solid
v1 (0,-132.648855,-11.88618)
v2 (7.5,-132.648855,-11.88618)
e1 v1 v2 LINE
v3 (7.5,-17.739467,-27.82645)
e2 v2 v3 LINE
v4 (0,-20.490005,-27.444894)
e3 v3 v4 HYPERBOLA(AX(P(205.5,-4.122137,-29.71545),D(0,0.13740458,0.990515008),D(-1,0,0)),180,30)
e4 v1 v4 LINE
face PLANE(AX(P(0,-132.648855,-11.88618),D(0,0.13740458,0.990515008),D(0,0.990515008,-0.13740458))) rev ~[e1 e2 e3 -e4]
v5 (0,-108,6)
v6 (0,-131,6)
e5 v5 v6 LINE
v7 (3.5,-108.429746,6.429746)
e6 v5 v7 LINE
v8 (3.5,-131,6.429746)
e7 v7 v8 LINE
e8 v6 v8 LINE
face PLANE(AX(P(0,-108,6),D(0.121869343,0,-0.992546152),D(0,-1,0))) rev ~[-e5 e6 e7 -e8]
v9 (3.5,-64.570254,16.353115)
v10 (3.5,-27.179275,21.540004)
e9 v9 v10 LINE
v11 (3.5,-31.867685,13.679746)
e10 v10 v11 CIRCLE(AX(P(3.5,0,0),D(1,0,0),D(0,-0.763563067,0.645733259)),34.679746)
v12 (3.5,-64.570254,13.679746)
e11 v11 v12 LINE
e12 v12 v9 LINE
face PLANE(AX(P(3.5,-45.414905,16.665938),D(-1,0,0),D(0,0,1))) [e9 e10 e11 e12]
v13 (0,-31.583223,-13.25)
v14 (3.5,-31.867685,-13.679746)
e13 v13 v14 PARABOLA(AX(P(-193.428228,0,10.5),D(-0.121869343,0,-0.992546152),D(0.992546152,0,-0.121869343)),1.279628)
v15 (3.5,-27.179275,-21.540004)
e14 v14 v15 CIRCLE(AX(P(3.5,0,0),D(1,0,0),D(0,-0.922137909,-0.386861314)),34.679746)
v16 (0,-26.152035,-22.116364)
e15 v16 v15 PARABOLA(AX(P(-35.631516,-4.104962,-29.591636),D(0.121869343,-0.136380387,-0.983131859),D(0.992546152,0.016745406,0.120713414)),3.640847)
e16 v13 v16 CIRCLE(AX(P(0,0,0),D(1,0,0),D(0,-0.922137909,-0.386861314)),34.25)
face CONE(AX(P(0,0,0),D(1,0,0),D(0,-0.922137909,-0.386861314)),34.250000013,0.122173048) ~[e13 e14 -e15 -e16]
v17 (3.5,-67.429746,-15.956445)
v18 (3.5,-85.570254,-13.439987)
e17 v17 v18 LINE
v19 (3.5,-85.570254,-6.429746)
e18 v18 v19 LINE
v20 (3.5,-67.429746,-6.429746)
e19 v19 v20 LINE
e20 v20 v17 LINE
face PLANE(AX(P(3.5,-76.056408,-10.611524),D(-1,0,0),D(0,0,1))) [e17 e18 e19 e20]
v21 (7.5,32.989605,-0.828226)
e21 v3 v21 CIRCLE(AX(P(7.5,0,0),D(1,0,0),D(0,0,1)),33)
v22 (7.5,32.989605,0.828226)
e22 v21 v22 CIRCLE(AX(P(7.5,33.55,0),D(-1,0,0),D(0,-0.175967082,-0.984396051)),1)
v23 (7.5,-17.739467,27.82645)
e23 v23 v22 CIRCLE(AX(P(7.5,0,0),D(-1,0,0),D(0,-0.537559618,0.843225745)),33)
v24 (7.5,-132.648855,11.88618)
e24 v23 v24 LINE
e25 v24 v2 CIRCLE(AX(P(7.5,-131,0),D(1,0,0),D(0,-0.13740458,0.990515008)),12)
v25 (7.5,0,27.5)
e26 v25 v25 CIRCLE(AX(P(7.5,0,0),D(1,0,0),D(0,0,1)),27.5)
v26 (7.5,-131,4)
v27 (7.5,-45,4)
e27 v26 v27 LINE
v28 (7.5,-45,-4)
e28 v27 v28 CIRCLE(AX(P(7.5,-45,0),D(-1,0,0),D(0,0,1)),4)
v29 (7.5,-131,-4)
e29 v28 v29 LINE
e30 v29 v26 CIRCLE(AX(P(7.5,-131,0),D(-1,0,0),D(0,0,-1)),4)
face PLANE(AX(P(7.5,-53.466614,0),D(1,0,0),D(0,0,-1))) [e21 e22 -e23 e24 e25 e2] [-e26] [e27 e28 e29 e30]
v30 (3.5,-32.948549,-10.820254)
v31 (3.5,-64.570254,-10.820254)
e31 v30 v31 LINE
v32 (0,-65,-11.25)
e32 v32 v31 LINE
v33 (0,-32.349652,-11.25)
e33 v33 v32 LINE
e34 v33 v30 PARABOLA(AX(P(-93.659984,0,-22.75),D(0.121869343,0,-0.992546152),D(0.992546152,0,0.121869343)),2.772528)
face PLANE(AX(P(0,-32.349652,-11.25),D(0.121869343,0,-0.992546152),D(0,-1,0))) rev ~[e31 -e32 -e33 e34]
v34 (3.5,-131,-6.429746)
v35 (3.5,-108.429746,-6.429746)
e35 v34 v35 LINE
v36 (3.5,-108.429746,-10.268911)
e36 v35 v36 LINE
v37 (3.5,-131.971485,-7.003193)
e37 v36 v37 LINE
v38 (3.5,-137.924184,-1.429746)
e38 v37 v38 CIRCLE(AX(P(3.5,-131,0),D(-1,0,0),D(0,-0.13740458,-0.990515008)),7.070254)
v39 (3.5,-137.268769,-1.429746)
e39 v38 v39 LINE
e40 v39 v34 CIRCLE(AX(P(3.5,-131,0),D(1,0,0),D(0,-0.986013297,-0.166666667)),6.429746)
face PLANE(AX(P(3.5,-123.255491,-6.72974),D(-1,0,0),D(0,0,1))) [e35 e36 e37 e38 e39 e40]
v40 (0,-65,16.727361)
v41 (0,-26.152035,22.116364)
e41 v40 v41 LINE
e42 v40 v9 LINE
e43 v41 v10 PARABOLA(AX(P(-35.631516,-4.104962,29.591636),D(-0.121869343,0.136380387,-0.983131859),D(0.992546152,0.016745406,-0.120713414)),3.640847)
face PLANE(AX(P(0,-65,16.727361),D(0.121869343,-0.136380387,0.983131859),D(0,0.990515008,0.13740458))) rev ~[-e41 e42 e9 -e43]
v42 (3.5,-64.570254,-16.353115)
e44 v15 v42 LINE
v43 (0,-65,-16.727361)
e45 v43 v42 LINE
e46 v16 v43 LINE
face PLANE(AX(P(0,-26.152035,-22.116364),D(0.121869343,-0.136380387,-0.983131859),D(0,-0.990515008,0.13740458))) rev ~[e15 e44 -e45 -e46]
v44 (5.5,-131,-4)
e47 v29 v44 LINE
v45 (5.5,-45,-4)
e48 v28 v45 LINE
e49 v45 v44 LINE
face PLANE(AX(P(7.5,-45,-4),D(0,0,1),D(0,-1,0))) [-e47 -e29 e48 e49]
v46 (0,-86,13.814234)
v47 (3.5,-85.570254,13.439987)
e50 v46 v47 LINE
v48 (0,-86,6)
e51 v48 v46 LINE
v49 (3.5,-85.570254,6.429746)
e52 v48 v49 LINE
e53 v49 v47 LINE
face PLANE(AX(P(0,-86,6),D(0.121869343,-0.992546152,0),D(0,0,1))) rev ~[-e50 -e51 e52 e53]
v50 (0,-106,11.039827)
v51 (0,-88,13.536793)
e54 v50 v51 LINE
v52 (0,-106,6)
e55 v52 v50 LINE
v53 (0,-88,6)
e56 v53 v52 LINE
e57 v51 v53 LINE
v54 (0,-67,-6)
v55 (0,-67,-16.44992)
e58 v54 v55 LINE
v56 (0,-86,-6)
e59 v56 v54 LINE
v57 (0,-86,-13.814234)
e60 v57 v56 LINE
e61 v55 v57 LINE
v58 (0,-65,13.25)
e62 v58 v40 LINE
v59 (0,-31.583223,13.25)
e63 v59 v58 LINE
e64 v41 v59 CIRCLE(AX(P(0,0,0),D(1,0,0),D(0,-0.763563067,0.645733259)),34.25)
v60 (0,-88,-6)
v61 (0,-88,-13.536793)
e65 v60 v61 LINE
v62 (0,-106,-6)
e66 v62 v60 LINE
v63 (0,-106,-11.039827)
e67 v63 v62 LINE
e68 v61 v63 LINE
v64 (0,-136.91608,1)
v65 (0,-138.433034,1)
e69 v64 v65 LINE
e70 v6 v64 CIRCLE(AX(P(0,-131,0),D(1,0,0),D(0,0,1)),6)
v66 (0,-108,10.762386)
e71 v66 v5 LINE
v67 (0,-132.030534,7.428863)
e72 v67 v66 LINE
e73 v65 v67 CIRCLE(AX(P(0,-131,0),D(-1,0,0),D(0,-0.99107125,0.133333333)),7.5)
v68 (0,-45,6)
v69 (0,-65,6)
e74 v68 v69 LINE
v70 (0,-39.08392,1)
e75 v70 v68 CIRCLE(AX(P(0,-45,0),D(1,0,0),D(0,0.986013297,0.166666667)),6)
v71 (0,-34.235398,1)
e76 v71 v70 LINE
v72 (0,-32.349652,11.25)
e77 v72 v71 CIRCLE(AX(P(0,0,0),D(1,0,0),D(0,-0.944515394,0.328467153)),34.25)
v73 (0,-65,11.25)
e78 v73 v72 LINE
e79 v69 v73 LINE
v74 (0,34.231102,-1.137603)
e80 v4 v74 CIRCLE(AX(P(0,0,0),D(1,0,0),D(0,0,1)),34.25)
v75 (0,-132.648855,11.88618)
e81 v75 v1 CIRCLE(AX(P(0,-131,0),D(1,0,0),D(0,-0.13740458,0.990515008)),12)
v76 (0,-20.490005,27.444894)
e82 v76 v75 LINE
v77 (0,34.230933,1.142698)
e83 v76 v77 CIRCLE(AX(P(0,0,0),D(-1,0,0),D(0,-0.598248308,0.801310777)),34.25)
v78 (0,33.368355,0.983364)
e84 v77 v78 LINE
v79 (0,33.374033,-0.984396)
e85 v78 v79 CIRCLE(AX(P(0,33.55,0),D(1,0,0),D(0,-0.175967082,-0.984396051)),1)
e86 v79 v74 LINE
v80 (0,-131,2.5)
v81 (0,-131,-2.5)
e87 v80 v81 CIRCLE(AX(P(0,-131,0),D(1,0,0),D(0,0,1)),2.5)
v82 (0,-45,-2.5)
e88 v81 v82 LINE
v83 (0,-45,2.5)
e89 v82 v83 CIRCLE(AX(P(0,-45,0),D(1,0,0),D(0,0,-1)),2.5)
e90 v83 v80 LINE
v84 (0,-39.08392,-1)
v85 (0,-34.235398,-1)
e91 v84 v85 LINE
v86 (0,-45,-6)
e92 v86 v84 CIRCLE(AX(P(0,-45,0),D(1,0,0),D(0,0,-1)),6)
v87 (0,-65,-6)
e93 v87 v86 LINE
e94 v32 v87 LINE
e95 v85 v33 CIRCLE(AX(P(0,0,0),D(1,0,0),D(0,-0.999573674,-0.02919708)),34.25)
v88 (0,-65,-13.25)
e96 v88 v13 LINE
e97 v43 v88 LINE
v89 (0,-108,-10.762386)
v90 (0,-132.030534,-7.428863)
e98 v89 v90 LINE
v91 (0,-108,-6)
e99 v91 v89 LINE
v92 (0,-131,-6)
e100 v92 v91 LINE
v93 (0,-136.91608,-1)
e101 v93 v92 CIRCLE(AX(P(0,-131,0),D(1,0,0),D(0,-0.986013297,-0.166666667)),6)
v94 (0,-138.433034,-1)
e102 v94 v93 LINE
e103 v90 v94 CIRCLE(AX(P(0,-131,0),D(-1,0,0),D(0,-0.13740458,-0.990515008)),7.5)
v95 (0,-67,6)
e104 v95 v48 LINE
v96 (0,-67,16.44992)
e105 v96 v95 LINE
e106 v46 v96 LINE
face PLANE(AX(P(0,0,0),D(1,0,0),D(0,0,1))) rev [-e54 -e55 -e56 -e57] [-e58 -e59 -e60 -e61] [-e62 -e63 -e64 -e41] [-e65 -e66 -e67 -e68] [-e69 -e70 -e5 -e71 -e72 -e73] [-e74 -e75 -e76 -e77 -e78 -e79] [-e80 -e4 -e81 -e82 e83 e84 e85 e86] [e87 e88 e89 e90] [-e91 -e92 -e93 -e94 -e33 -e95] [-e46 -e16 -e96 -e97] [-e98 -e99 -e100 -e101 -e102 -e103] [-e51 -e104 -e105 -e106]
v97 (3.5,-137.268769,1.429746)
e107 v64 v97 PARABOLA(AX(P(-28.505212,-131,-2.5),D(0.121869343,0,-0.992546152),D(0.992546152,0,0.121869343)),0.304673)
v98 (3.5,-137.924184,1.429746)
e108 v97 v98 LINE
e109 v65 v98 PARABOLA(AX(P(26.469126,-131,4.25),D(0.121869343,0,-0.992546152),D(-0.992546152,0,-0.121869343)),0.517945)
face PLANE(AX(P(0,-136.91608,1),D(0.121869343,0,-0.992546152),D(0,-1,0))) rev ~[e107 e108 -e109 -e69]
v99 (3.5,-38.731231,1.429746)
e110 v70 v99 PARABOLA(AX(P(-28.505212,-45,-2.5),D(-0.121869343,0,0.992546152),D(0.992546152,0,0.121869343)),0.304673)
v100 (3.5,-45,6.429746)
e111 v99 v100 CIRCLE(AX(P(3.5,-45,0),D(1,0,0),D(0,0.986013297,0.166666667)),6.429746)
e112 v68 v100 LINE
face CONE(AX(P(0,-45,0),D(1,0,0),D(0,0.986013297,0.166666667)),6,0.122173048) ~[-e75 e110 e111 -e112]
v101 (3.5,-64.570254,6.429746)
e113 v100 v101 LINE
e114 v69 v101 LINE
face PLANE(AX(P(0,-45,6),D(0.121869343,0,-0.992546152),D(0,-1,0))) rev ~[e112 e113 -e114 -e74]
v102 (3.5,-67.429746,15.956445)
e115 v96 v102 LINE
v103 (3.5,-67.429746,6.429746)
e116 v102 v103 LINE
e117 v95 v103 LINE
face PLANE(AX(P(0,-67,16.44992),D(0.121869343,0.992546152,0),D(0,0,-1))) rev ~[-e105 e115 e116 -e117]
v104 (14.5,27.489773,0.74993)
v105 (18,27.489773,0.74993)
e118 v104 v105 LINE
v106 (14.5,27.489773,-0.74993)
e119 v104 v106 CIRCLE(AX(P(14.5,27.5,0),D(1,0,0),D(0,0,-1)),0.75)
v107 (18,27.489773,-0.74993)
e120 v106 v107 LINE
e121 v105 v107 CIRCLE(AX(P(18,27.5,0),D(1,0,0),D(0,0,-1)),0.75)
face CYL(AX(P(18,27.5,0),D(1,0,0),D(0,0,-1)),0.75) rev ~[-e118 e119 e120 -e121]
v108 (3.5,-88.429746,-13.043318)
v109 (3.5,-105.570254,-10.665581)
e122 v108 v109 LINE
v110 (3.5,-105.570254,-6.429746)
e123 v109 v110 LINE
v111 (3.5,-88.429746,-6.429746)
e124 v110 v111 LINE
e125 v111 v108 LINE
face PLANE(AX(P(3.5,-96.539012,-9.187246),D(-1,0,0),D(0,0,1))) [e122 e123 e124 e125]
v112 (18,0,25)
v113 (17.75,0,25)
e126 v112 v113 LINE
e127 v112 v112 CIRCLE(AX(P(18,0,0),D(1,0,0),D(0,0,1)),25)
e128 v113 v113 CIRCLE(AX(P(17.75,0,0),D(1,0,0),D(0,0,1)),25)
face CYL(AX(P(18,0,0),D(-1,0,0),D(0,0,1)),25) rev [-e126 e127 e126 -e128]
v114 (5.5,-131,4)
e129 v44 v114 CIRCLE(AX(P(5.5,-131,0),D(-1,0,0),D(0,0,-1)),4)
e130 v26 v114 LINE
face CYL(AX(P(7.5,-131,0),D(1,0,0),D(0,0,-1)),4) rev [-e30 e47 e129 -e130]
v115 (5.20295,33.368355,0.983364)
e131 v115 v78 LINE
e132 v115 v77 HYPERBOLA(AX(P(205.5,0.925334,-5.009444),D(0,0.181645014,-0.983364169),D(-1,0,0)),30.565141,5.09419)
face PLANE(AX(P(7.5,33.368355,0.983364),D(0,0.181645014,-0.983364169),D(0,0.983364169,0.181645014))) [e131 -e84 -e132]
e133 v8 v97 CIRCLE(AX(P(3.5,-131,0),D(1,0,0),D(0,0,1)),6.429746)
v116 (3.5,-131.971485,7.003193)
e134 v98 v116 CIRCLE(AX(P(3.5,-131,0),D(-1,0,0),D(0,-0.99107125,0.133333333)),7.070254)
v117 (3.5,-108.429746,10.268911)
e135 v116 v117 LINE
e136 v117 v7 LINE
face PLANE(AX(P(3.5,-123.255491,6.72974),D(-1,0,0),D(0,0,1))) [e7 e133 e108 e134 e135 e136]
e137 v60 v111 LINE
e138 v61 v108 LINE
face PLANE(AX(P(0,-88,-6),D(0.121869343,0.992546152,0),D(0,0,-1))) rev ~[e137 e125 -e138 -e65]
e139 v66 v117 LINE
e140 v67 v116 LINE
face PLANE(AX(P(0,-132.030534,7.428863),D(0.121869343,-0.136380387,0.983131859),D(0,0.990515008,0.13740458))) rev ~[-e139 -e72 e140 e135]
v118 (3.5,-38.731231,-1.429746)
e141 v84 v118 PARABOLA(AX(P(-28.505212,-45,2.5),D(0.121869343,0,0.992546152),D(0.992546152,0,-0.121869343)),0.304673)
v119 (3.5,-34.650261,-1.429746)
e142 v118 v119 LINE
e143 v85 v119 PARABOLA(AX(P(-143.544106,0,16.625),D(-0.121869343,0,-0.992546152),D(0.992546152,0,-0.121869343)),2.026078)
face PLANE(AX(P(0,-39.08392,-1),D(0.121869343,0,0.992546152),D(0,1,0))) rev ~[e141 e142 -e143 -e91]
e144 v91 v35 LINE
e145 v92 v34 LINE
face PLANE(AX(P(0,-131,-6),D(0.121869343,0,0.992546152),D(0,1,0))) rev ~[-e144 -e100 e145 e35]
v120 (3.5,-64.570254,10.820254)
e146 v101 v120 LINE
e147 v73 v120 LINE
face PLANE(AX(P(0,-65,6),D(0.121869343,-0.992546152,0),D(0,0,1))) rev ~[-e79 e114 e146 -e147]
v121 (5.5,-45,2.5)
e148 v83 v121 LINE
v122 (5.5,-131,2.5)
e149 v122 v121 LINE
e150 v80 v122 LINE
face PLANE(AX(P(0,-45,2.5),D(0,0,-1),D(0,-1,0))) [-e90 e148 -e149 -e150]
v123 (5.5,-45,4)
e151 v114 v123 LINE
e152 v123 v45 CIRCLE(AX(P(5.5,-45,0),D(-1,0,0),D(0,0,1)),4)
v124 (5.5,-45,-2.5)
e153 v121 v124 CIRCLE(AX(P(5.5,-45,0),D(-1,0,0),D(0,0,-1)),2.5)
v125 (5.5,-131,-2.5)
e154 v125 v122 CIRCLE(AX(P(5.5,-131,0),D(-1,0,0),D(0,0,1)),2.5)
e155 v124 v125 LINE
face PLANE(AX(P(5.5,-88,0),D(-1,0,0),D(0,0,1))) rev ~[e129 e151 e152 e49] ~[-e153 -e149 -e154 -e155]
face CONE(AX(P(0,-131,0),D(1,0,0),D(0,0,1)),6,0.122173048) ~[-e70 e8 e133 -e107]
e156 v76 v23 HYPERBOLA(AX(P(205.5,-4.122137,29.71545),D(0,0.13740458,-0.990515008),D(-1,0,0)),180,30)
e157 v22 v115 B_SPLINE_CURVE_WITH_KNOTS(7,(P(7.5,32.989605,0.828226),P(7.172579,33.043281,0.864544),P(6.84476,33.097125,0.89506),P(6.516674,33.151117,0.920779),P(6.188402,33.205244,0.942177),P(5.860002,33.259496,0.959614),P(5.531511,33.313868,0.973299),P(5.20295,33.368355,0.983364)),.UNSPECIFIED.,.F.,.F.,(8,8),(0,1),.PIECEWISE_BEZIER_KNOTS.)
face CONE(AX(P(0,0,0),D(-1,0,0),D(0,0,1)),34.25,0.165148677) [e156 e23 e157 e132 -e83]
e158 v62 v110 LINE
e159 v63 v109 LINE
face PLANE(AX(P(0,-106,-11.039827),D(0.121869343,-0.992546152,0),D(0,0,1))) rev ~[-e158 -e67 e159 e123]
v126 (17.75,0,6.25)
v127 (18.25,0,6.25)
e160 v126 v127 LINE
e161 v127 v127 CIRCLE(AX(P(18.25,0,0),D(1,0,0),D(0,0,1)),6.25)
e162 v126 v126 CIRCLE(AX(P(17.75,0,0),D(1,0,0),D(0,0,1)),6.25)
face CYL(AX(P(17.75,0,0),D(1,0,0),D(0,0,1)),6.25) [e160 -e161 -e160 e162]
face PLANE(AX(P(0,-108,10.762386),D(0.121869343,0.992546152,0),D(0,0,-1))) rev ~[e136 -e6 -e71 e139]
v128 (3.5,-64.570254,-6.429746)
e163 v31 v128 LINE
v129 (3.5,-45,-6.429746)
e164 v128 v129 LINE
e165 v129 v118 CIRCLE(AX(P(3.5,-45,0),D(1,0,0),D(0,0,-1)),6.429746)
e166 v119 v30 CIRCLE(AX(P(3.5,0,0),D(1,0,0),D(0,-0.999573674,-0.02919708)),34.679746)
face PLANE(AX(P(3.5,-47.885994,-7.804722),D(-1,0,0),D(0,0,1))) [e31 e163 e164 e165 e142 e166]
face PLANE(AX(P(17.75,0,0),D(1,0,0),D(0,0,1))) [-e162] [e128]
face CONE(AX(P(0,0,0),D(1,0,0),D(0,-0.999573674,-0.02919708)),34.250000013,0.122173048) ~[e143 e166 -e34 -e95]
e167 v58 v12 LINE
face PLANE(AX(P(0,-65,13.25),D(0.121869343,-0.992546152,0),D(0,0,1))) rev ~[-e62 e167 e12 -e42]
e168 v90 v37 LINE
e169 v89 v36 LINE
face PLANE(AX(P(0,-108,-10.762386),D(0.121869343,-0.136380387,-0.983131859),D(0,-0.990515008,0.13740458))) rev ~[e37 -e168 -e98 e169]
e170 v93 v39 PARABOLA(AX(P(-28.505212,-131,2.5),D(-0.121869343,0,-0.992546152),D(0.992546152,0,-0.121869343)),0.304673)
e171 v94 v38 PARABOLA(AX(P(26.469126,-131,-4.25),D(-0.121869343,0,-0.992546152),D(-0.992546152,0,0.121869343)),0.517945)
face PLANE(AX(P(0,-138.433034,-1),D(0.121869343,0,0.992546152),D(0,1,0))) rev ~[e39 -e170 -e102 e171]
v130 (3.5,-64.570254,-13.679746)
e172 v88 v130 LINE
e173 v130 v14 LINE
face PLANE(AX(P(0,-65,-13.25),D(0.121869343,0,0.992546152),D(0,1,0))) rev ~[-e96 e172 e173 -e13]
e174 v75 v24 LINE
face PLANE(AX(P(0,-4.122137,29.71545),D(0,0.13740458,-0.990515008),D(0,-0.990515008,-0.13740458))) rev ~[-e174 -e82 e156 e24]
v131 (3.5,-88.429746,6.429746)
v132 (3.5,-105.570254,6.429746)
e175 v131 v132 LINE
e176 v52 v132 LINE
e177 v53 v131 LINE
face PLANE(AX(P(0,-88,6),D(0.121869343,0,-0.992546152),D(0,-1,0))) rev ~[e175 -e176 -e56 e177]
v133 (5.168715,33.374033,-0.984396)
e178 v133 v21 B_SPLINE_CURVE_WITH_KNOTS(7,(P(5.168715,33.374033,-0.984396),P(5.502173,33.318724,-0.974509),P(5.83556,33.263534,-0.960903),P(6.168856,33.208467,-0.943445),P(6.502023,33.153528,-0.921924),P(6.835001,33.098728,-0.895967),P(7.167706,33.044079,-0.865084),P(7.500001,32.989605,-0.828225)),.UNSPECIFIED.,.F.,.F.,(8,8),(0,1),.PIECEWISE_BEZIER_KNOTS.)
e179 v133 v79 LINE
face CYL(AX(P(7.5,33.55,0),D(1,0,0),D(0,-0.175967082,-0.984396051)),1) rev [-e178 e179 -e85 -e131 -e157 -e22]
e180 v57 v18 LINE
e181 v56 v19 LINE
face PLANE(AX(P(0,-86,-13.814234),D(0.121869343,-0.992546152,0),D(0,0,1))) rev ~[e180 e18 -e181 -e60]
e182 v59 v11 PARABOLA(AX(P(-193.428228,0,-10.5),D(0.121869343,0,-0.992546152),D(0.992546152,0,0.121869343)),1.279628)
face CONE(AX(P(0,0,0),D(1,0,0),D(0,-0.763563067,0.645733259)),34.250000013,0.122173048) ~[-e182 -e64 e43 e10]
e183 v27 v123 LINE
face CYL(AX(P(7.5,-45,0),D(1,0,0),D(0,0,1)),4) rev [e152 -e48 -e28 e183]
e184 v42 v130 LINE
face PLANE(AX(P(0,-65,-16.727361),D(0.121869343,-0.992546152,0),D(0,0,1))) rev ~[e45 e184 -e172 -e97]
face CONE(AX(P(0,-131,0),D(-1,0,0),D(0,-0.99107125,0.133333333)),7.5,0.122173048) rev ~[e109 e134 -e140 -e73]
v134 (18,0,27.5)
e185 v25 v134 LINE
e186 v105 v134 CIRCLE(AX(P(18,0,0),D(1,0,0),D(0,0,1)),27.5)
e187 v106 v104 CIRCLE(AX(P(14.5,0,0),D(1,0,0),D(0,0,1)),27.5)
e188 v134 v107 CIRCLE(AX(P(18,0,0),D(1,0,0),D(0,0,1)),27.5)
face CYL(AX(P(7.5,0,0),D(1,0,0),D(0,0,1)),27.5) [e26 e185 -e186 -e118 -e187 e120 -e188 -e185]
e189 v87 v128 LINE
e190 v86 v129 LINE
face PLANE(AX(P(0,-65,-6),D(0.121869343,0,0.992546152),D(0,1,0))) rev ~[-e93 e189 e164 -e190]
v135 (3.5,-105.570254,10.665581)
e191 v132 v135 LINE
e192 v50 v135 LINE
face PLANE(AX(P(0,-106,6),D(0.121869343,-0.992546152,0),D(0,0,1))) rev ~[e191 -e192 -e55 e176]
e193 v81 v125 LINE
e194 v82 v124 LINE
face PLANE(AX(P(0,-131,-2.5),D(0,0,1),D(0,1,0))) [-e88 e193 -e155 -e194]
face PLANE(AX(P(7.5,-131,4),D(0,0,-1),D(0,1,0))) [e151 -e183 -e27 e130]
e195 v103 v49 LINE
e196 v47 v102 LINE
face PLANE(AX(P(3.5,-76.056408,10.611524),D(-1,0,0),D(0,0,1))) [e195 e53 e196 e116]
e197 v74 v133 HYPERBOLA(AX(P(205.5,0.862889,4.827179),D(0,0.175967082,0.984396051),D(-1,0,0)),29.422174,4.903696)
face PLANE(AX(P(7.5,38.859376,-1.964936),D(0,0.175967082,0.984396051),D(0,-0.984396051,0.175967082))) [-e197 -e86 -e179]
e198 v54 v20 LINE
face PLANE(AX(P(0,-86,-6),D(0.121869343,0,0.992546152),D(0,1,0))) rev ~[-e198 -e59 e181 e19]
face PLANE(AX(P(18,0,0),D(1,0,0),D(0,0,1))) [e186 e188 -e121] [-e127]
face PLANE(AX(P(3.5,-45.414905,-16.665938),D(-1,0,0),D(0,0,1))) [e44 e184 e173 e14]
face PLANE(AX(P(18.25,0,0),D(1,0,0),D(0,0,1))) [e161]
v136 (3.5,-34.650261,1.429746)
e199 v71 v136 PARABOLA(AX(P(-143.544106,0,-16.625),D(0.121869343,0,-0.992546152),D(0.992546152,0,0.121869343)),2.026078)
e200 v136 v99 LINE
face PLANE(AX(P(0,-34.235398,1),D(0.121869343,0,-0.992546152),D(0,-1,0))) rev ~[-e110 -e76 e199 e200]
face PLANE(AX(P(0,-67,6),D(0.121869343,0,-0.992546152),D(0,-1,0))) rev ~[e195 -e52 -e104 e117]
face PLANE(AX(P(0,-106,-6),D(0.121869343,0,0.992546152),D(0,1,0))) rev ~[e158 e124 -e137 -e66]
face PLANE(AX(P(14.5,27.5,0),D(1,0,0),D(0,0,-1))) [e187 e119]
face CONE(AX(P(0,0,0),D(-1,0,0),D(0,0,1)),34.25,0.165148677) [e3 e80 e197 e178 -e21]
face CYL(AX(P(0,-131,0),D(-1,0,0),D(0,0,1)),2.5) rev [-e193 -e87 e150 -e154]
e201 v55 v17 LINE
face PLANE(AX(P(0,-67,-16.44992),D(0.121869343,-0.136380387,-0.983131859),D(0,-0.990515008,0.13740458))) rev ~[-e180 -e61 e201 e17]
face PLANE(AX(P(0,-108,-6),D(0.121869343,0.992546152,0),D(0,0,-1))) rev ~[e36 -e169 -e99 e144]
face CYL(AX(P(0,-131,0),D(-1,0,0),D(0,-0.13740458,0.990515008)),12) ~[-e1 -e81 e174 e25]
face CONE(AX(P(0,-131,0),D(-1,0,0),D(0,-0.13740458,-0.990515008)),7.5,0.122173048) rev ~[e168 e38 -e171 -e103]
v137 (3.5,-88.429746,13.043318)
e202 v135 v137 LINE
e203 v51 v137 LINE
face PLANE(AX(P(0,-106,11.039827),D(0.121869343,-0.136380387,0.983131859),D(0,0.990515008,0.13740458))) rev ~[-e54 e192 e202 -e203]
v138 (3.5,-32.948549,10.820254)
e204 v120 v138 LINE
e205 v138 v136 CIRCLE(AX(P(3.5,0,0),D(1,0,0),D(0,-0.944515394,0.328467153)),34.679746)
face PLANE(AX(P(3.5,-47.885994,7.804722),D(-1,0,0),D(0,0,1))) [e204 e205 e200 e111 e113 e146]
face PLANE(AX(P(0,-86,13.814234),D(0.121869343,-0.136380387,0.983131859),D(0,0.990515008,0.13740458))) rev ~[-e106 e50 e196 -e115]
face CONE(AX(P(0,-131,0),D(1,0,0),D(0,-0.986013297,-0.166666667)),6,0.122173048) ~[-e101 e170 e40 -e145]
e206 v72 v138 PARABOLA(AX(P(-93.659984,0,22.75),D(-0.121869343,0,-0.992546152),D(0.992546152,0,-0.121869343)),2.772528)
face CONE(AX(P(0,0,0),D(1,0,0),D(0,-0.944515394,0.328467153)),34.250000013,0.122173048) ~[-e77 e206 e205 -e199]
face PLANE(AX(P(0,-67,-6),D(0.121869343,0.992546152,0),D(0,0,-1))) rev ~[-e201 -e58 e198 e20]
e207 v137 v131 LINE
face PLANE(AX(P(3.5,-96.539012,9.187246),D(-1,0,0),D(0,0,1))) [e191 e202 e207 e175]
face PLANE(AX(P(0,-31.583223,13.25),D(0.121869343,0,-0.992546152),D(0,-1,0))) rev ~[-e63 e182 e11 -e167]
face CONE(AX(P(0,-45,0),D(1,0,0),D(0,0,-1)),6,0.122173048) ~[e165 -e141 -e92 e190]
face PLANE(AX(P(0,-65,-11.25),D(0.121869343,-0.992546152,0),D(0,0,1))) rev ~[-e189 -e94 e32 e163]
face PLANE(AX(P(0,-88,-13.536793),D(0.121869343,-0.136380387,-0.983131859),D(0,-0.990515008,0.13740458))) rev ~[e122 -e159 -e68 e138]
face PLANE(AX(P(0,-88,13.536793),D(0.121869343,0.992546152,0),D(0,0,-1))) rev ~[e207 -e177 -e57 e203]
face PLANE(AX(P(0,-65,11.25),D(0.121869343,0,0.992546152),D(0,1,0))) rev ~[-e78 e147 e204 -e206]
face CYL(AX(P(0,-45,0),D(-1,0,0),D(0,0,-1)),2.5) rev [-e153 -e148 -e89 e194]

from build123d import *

# Parameters (mm, degrees)
ESQUISSE2_R                        = 0.75
ENL_V_MAT_EXTRU_1_DEPTH            = 3.5
ENL_V_MAT_EXTRU_2_DEPTH            = 50.615395796
EXTRUSION1_DEPTH                   = 7.5
ENL_V_MAT_EXTRU_3_DEPTH            = 3.5
ENL_V_MAT_EXTRU_3_DRAFT            = -7
ENL_V_MAT_EXTRU_3_PROFILE_2_DEPTH  = 3.5
ENL_V_MAT_EXTRU_3_PROFILE_2_DRAFT  = -7
ENL_V_MAT_EXTRU_3_PROFILE_3_DEPTH  = 3.5
ENL_V_MAT_EXTRU_3_PROFILE_3_DRAFT  = -7
ENL_V_MAT_EXTRU_3_PROFILE_4_DEPTH  = 3.5
ENL_V_MAT_EXTRU_3_PROFILE_4_DRAFT  = -7
ENL_V_MAT_EXTRU_3_PROFILE_5_DEPTH  = 3.5
ENL_V_MAT_EXTRU_3_PROFILE_5_DRAFT  = -7
ENL_V_MAT_EXTRU_3_PROFILE_6_DEPTH  = 3.5
ENL_V_MAT_EXTRU_3_PROFILE_6_DRAFT  = -7
ENL_V_MAT_EXTRU_3_PROFILE_7_DEPTH  = 3.5
ENL_V_MAT_EXTRU_3_PROFILE_7_DRAFT  = -7
ENL_V_MAT_EXTRU_3_PROFILE_8_DEPTH  = 3.5
ENL_V_MAT_EXTRU_3_PROFILE_8_DRAFT  = -7
ENL_V_MAT_EXTRU_3_PROFILE_9_DEPTH  = 3.5
ENL_V_MAT_EXTRU_3_PROFILE_9_DRAFT  = -7
ENL_V_MAT_EXTRU_3_PROFILE_10_DEPTH = 3.5
ENL_V_MAT_EXTRU_3_PROFILE_10_DRAFT = -7
ENL_V_MAT_EXTRU_4_DEPTH            = 2


with BuildPart() as part:
    # Esquisse1 → Révolution1 (revolve)
    with BuildSketch(Plane.XY, mode=Mode.PRIVATE) as r_volution1_sk:
        Polygon((0, 0), (0, 34.25), (7.5, 33), (7.5, 27.5), (18, 27.5), (18, 25), (17.75, 25), (17.75, 6.25), (18.25, 6.25), (18.25, 0), align=None)
    revolve(r_volution1_sk.sketch.rotate(Axis((-40.966877637, 0, 0), (1, 0, 0)), 90), axis=Axis((-40.966877637, 0, 0), (1, 0, 0)))

    # Esquisse2 → Enlèv. mat.-Extru.1 (cut)
    with BuildSketch(Plane(origin=(18, 0, 0), x_dir=(0, 0, -1), z_dir=(1, 0, 0))):
        with Locations((0, 27.5)):
            Circle(ESQUISSE2_R)
    extrude(amount=-ENL_V_MAT_EXTRU_1_DEPTH, mode=Mode.SUBTRACT)

    # Esquisse3 → Enlèv. mat.-Extru.2 (cut, through all)
    with BuildSketch(Plane(origin=(7.5, 0, 0), x_dir=(0, 0, -1), z_dir=(1, 0, 0))):
        with BuildLine():
            Line((-0.983364169, 33.368354985), (-1.997654411, 38.859376491))
            Line((-1.997654411, 38.859376491), (1.964936251, 38.859376491))
            Line((1.964936251, 38.859376491), (0.984396051, 33.374032918))
            ThreePointArc((0.984396051, 33.374032918), (0.002885468, 32.550004163), (-0.983364169, 33.368354985))
        make_face()
    extrude(amount=-ENL_V_MAT_EXTRU_2_DEPTH, mode=Mode.SUBTRACT)

    # Esquisse4 → Extrusion1 (add)
    with BuildSketch(Plane.ZY):
        with BuildLine():
            Line((29.715450244, -4.122137405), (11.886180098, -132.648854962))
            ThreePointArc((11.886180098, -132.648854962), (0, -143), (-11.886180098, -132.648854962))
            Line((-11.886180098, -132.648854962), (-29.715450244, -4.122137405))
            ThreePointArc((-29.715450244, -4.122137405), (0, 30), (29.715450244, -4.122137405))
        make_face()
        with BuildLine():
            Line((2.5, -45), (2.5, -131))
            ThreePointArc((2.5, -131), (0, -133.5), (-2.5, -131))
            Line((-2.5, -131), (-2.5, -45))
            ThreePointArc((-2.5, -45), (0, -42.5), (2.5, -45))
        make_face(mode=Mode.SUBTRACT)
    extrude(amount=-EXTRUSION1_DEPTH)


with BuildPart() as enl_v_mat_extru_3_tool:
    # Esquisse5 → Enlèv. mat.-Extru.3 (with draft: the straight prism first)
    with BuildSketch(Plane.ZY):
        Polygon((-11.039827175, -106), (-6, -106), (-6, -88), (-13.536793321, -88), align=None)
    extrude(amount=-ENL_V_MAT_EXTRU_3_DEPTH)
    # Enlèv. mat.-Extru.3: the draft: its side faces are tilted about the plane it starts from
    enl_v_mat_extru_3_sides = [enl_v_mat_extru_3_tool.faces().sort_by_distance(p)[0] for p in [
        (1.75, -106, -8.519913587),
        (1.75, -97, -6),
        (1.75, -88, -9.768396661),
        (1.75, -97, -12.288310248),
    ]]
    draft(enl_v_mat_extru_3_sides, Plane.ZY, ENL_V_MAT_EXTRU_3_DRAFT)


with BuildPart() as part_1:
    add(part.part)

    # Enlèv. mat.-Extru.3: cut by enl_v_mat_extru_3_tool
    add(enl_v_mat_extru_3_tool.part, mode=Mode.SUBTRACT)


with BuildPart() as enl_v_mat_extru_3_profile_2_tool:
    # Esquisse5 → Enlèv. mat.-Extru.3 profile 2 (with draft: the straight prism first)
    with BuildSketch(Plane.ZY):
        with BuildLine():
            ThreePointArc((-6, -45), (-4.582575695, -41.127016654), (-1, -39.083920217))
            Line((-1, -39.083920217), (-1, -34.235398347))
            ThreePointArc((-1, -34.235398347), (-6.197147295, -33.684682949), (-11.25, -32.349652239))
            Line((-11.25, -32.349652239), (-11.25, -65))
            Line((-11.25, -65), (-6, -65))
            Line((-6, -65), (-6, -45))
        make_face()
    extrude(amount=-ENL_V_MAT_EXTRU_3_PROFILE_2_DEPTH)
    # Enlèv. mat.-Extru.3 profile 2: the draft: its side faces are tilted about the plane it starts from
    enl_v_mat_extru_3_profile_2_sides = [enl_v_mat_extru_3_profile_2_tool.faces().sort_by_distance(p)[0] for p in [
        (1.75, -41.127016654, -4.582575695),
        (1.75, -36.659659282, -1),
        (1.75, -33.684682949, -6.197147295),
        (1.75, -48.67482612, -11.25),
        (1.75, -65, -8.625),
        (1.75, -55, -6),
    ]]
    draft(enl_v_mat_extru_3_profile_2_sides, Plane.ZY, ENL_V_MAT_EXTRU_3_PROFILE_2_DRAFT)


with BuildPart() as part_2:
    add(part_1.part)

    # Enlèv. mat.-Extru.3 profile 2: cut by enl_v_mat_extru_3_profile_2_tool
    add(enl_v_mat_extru_3_profile_2_tool.part, mode=Mode.SUBTRACT)


with BuildPart() as enl_v_mat_extru_3_profile_3_tool:
    # Esquisse5 → Enlèv. mat.-Extru.3 profile 3 (with draft: the straight prism first)
    with BuildSketch(Plane.ZY):
        with BuildLine():
            Line((-22.116364137, -26.152035052), (-16.727361175, -65))
            Line((-16.727361175, -65), (-13.25, -65))
            Line((-13.25, -65), (-13.25, -31.583223395))
            ThreePointArc((-13.25, -31.583223395), (-17.890482939, -29.206045953), (-22.116364137, -26.152035052))
        make_face()
    extrude(amount=-ENL_V_MAT_EXTRU_3_PROFILE_3_DEPTH)
    # Enlèv. mat.-Extru.3 profile 3: the draft: its side faces are tilted about the plane it starts from
    enl_v_mat_extru_3_profile_3_sides = [enl_v_mat_extru_3_profile_3_tool.faces().sort_by_distance(p)[0] for p in [
        (1.75, -45.576017526, -19.421862656),
        (1.75, -65, -14.988680587),
        (1.75, -48.291611697, -13.25),
        (1.75, -29.206045953, -17.890482939),
    ]]
    draft(enl_v_mat_extru_3_profile_3_sides, Plane.ZY, ENL_V_MAT_EXTRU_3_PROFILE_3_DRAFT)


with BuildPart() as part_3:
    add(part_2.part)

    # Enlèv. mat.-Extru.3 profile 3: cut by enl_v_mat_extru_3_profile_3_tool
    add(enl_v_mat_extru_3_profile_3_tool.part, mode=Mode.SUBTRACT)


with BuildPart() as enl_v_mat_extru_3_profile_4_tool:
    # Esquisse5 → Enlèv. mat.-Extru.3 profile 4 (with draft: the straight prism first)
    with BuildSketch(Plane.ZY):
        with BuildLine():
            Line((-1, -138.433034374), (-1, -136.916079783))
            ThreePointArc((-1, -136.916079783), (-4.582575695, -134.872983346), (-6, -131))
            Line((-6, -131), (-6, -108))
            Line((-6, -108), (-10.762386492, -108))
            Line((-10.762386492, -108), (-7.428862561, -132.030534351))
            ThreePointArc((-7.428862561, -132.030534351), (-5.292393849, -136.314185483), (-1, -138.433034374))
        make_face()
    extrude(amount=-ENL_V_MAT_EXTRU_3_PROFILE_4_DEPTH)
    # Enlèv. mat.-Extru.3 profile 4: the draft: its side faces are tilted about the plane it starts from
    enl_v_mat_extru_3_profile_4_sides = [enl_v_mat_extru_3_profile_4_tool.faces().sort_by_distance(p)[0] for p in [
        (1.75, -137.674557078, -1),
        (1.75, -134.872983346, -4.582575695),
        (1.75, -119.5, -6),
        (1.75, -108, -8.381193246),
        (1.75, -120.015267176, -9.095624526),
        (1.75, -136.314185483, -5.292393849),
    ]]
    draft(enl_v_mat_extru_3_profile_4_sides, Plane.ZY, ENL_V_MAT_EXTRU_3_PROFILE_4_DRAFT)


with BuildPart() as part_4:
    add(part_3.part)

    # Enlèv. mat.-Extru.3 profile 4: cut by enl_v_mat_extru_3_profile_4_tool
    add(enl_v_mat_extru_3_profile_4_tool.part, mode=Mode.SUBTRACT)


with BuildPart() as enl_v_mat_extru_3_profile_5_tool:
    # Esquisse5 → Enlèv. mat.-Extru.3 profile 5 (with draft: the straight prism first)
    with BuildSketch(Plane.ZY):
        Polygon((-13.814234004, -86), (-6, -86), (-6, -67), (-16.449920492, -67), align=None)
    extrude(amount=-ENL_V_MAT_EXTRU_3_PROFILE_5_DEPTH)
    # Enlèv. mat.-Extru.3 profile 5: the draft: its side faces are tilted about the plane it starts from
    enl_v_mat_extru_3_profile_5_sides = [enl_v_mat_extru_3_profile_5_tool.faces().sort_by_distance(p)[0] for p in [
        (1.75, -86, -9.907117002),
        (1.75, -76.5, -6),
        (1.75, -67, -11.224960246),
        (1.75, -76.5, -15.132077248),
    ]]
    draft(enl_v_mat_extru_3_profile_5_sides, Plane.ZY, ENL_V_MAT_EXTRU_3_PROFILE_5_DRAFT)


with BuildPart() as part_5:
    add(part_4.part)

    # Enlèv. mat.-Extru.3 profile 5: cut by enl_v_mat_extru_3_profile_5_tool
    add(enl_v_mat_extru_3_profile_5_tool.part, mode=Mode.SUBTRACT)


with BuildPart() as enl_v_mat_extru_3_profile_6_tool:
    # Esquisse5 → Enlèv. mat.-Extru.3 profile 6 (with draft: the straight prism first)
    with BuildSketch(Plane.ZY):
        with BuildLine():
            Line((10.762386492, -108), (6, -108))
            Line((6, -108), (6, -131))
            ThreePointArc((6, -131), (4.582575695, -134.872983346), (1, -136.916079783))
            Line((1, -136.916079783), (1, -138.433034374))
            ThreePointArc((1, -138.433034374), (5.292393849, -136.314185483), (7.428862561, -132.030534351))
            Line((7.428862561, -132.030534351), (10.762386492, -108))
        make_face()
    extrude(amount=-ENL_V_MAT_EXTRU_3_PROFILE_6_DEPTH)
    # Enlèv. mat.-Extru.3 profile 6: the draft: its side faces are tilted about the plane it starts from
    enl_v_mat_extru_3_profile_6_sides = [enl_v_mat_extru_3_profile_6_tool.faces().sort_by_distance(p)[0] for p in [
        (1.75, -120.015267176, 9.095624526),
        (1.75, -108, 8.381193246),
        (1.75, -119.5, 6),
        (1.75, -134.872983346, 4.582575695),
        (1.75, -137.674557078, 1),
        (1.75, -136.314185483, 5.292393849),
    ]]
    draft(enl_v_mat_extru_3_profile_6_sides, Plane.ZY, ENL_V_MAT_EXTRU_3_PROFILE_6_DRAFT)


with BuildPart() as part_6:
    add(part_5.part)

    # Enlèv. mat.-Extru.3 profile 6: cut by enl_v_mat_extru_3_profile_6_tool
    add(enl_v_mat_extru_3_profile_6_tool.part, mode=Mode.SUBTRACT)


with BuildPart() as enl_v_mat_extru_3_profile_7_tool:
    # Esquisse5 → Enlèv. mat.-Extru.3 profile 7 (with draft: the straight prism first)
    with BuildSketch(Plane.ZY):
        Polygon((13.536793321, -88), (6, -88), (6, -106), (11.039827175, -106), align=None)
    extrude(amount=-ENL_V_MAT_EXTRU_3_PROFILE_7_DEPTH)
    # Enlèv. mat.-Extru.3 profile 7: the draft: its side faces are tilted about the plane it starts from
    enl_v_mat_extru_3_profile_7_sides = [enl_v_mat_extru_3_profile_7_tool.faces().sort_by_distance(p)[0] for p in [
        (1.75, -88, 9.768396661),
        (1.75, -97, 6),
        (1.75, -106, 8.519913587),
        (1.75, -97, 12.288310248),
    ]]
    draft(enl_v_mat_extru_3_profile_7_sides, Plane.ZY, ENL_V_MAT_EXTRU_3_PROFILE_7_DRAFT)


with BuildPart() as part_7:
    add(part_6.part)

    # Enlèv. mat.-Extru.3 profile 7: cut by enl_v_mat_extru_3_profile_7_tool
    add(enl_v_mat_extru_3_profile_7_tool.part, mode=Mode.SUBTRACT)


with BuildPart() as enl_v_mat_extru_3_profile_8_tool:
    # Esquisse5 → Enlèv. mat.-Extru.3 profile 8 (with draft: the straight prism first)
    with BuildSketch(Plane.ZY):
        with BuildLine():
            Line((11.25, -65), (11.25, -32.349652239))
            ThreePointArc((11.25, -32.349652239), (6.197147295, -33.684682949), (1, -34.235398347))
            Line((1, -34.235398347), (1, -39.083920217))
            ThreePointArc((1, -39.083920217), (4.582575695, -41.127016654), (6, -45))
            Line((6, -45), (6, -65))
            Line((6, -65), (11.25, -65))
        make_face()
    extrude(amount=-ENL_V_MAT_EXTRU_3_PROFILE_8_DEPTH)
    # Enlèv. mat.-Extru.3 profile 8: the draft: its side faces are tilted about the plane it starts from
    enl_v_mat_extru_3_profile_8_sides = [enl_v_mat_extru_3_profile_8_tool.faces().sort_by_distance(p)[0] for p in [
        (1.75, -55, 6),
        (1.75, -65, 8.625),
        (1.75, -48.67482612, 11.25),
        (1.75, -33.684682949, 6.197147295),
        (1.75, -36.659659282, 1),
        (1.75, -41.127016654, 4.582575695),
    ]]
    draft(enl_v_mat_extru_3_profile_8_sides, Plane.ZY, ENL_V_MAT_EXTRU_3_PROFILE_8_DRAFT)


with BuildPart() as part_8:
    add(part_7.part)

    # Enlèv. mat.-Extru.3 profile 8: cut by enl_v_mat_extru_3_profile_8_tool
    add(enl_v_mat_extru_3_profile_8_tool.part, mode=Mode.SUBTRACT)


with BuildPart() as enl_v_mat_extru_3_profile_9_tool:
    # Esquisse5 → Enlèv. mat.-Extru.3 profile 9 (with draft: the straight prism first)
    with BuildSketch(Plane.ZY):
        Polygon((6, -67), (6, -86), (13.814234004, -86), (16.449920492, -67), align=None)
    extrude(amount=-ENL_V_MAT_EXTRU_3_PROFILE_9_DEPTH)
    # Enlèv. mat.-Extru.3 profile 9: the draft: its side faces are tilted about the plane it starts from
    enl_v_mat_extru_3_profile_9_sides = [enl_v_mat_extru_3_profile_9_tool.faces().sort_by_distance(p)[0] for p in [
        (1.75, -76.5, 6),
        (1.75, -86, 9.907117002),
        (1.75, -76.5, 15.132077248),
        (1.75, -67, 11.224960246),
    ]]
    draft(enl_v_mat_extru_3_profile_9_sides, Plane.ZY, ENL_V_MAT_EXTRU_3_PROFILE_9_DRAFT)


with BuildPart() as part_9:
    add(part_8.part)

    # Enlèv. mat.-Extru.3 profile 9: cut by enl_v_mat_extru_3_profile_9_tool
    add(enl_v_mat_extru_3_profile_9_tool.part, mode=Mode.SUBTRACT)


with BuildPart() as enl_v_mat_extru_3_profile_10_tool:
    # Esquisse5 → Enlèv. mat.-Extru.3 profile 10 (with draft: the straight prism first)
    with BuildSketch(Plane.ZY):
        with BuildLine():
            Line((13.25, -65), (16.727361175, -65))
            Line((16.727361175, -65), (22.116364137, -26.152035052))
            ThreePointArc((22.116364137, -26.152035052), (17.890482939, -29.206045953), (13.25, -31.583223395))
            Line((13.25, -31.583223395), (13.25, -65))
        make_face()
    extrude(amount=-ENL_V_MAT_EXTRU_3_PROFILE_10_DEPTH)
    # Enlèv. mat.-Extru.3 profile 10: the draft: its side faces are tilted about the plane it starts from
    enl_v_mat_extru_3_profile_10_sides = [enl_v_mat_extru_3_profile_10_tool.faces().sort_by_distance(p)[0] for p in [
        (1.75, -48.291611697, 13.25),
        (1.75, -65, 14.988680587),
        (1.75, -45.576017526, 19.421862656),
        (1.75, -29.206045953, 17.890482939),
    ]]
    draft(enl_v_mat_extru_3_profile_10_sides, Plane.ZY, ENL_V_MAT_EXTRU_3_PROFILE_10_DRAFT)


with BuildPart() as part_10:
    add(part_9.part)

    # Enlèv. mat.-Extru.3 profile 10: cut by enl_v_mat_extru_3_profile_10_tool
    add(enl_v_mat_extru_3_profile_10_tool.part, mode=Mode.SUBTRACT)

    # Esquisse6 → Enlèv. mat.-Extru.4 (cut)
    with BuildSketch(Plane(origin=(7.5, 0, 0), x_dir=(0, 0, -1), z_dir=(1, 0, 0))):
        with BuildLine():
            Line((4, -45), (4, -131))
            ThreePointArc((4, -131), (0, -135), (-4, -131))
            Line((-4, -131), (-4, -45))
            ThreePointArc((-4, -45), (0, -41), (4, -45))
        make_face()
    extrude(amount=-ENL_V_MAT_EXTRU_4_DEPTH, mode=Mode.SUBTRACT)


solid = part_10.part
